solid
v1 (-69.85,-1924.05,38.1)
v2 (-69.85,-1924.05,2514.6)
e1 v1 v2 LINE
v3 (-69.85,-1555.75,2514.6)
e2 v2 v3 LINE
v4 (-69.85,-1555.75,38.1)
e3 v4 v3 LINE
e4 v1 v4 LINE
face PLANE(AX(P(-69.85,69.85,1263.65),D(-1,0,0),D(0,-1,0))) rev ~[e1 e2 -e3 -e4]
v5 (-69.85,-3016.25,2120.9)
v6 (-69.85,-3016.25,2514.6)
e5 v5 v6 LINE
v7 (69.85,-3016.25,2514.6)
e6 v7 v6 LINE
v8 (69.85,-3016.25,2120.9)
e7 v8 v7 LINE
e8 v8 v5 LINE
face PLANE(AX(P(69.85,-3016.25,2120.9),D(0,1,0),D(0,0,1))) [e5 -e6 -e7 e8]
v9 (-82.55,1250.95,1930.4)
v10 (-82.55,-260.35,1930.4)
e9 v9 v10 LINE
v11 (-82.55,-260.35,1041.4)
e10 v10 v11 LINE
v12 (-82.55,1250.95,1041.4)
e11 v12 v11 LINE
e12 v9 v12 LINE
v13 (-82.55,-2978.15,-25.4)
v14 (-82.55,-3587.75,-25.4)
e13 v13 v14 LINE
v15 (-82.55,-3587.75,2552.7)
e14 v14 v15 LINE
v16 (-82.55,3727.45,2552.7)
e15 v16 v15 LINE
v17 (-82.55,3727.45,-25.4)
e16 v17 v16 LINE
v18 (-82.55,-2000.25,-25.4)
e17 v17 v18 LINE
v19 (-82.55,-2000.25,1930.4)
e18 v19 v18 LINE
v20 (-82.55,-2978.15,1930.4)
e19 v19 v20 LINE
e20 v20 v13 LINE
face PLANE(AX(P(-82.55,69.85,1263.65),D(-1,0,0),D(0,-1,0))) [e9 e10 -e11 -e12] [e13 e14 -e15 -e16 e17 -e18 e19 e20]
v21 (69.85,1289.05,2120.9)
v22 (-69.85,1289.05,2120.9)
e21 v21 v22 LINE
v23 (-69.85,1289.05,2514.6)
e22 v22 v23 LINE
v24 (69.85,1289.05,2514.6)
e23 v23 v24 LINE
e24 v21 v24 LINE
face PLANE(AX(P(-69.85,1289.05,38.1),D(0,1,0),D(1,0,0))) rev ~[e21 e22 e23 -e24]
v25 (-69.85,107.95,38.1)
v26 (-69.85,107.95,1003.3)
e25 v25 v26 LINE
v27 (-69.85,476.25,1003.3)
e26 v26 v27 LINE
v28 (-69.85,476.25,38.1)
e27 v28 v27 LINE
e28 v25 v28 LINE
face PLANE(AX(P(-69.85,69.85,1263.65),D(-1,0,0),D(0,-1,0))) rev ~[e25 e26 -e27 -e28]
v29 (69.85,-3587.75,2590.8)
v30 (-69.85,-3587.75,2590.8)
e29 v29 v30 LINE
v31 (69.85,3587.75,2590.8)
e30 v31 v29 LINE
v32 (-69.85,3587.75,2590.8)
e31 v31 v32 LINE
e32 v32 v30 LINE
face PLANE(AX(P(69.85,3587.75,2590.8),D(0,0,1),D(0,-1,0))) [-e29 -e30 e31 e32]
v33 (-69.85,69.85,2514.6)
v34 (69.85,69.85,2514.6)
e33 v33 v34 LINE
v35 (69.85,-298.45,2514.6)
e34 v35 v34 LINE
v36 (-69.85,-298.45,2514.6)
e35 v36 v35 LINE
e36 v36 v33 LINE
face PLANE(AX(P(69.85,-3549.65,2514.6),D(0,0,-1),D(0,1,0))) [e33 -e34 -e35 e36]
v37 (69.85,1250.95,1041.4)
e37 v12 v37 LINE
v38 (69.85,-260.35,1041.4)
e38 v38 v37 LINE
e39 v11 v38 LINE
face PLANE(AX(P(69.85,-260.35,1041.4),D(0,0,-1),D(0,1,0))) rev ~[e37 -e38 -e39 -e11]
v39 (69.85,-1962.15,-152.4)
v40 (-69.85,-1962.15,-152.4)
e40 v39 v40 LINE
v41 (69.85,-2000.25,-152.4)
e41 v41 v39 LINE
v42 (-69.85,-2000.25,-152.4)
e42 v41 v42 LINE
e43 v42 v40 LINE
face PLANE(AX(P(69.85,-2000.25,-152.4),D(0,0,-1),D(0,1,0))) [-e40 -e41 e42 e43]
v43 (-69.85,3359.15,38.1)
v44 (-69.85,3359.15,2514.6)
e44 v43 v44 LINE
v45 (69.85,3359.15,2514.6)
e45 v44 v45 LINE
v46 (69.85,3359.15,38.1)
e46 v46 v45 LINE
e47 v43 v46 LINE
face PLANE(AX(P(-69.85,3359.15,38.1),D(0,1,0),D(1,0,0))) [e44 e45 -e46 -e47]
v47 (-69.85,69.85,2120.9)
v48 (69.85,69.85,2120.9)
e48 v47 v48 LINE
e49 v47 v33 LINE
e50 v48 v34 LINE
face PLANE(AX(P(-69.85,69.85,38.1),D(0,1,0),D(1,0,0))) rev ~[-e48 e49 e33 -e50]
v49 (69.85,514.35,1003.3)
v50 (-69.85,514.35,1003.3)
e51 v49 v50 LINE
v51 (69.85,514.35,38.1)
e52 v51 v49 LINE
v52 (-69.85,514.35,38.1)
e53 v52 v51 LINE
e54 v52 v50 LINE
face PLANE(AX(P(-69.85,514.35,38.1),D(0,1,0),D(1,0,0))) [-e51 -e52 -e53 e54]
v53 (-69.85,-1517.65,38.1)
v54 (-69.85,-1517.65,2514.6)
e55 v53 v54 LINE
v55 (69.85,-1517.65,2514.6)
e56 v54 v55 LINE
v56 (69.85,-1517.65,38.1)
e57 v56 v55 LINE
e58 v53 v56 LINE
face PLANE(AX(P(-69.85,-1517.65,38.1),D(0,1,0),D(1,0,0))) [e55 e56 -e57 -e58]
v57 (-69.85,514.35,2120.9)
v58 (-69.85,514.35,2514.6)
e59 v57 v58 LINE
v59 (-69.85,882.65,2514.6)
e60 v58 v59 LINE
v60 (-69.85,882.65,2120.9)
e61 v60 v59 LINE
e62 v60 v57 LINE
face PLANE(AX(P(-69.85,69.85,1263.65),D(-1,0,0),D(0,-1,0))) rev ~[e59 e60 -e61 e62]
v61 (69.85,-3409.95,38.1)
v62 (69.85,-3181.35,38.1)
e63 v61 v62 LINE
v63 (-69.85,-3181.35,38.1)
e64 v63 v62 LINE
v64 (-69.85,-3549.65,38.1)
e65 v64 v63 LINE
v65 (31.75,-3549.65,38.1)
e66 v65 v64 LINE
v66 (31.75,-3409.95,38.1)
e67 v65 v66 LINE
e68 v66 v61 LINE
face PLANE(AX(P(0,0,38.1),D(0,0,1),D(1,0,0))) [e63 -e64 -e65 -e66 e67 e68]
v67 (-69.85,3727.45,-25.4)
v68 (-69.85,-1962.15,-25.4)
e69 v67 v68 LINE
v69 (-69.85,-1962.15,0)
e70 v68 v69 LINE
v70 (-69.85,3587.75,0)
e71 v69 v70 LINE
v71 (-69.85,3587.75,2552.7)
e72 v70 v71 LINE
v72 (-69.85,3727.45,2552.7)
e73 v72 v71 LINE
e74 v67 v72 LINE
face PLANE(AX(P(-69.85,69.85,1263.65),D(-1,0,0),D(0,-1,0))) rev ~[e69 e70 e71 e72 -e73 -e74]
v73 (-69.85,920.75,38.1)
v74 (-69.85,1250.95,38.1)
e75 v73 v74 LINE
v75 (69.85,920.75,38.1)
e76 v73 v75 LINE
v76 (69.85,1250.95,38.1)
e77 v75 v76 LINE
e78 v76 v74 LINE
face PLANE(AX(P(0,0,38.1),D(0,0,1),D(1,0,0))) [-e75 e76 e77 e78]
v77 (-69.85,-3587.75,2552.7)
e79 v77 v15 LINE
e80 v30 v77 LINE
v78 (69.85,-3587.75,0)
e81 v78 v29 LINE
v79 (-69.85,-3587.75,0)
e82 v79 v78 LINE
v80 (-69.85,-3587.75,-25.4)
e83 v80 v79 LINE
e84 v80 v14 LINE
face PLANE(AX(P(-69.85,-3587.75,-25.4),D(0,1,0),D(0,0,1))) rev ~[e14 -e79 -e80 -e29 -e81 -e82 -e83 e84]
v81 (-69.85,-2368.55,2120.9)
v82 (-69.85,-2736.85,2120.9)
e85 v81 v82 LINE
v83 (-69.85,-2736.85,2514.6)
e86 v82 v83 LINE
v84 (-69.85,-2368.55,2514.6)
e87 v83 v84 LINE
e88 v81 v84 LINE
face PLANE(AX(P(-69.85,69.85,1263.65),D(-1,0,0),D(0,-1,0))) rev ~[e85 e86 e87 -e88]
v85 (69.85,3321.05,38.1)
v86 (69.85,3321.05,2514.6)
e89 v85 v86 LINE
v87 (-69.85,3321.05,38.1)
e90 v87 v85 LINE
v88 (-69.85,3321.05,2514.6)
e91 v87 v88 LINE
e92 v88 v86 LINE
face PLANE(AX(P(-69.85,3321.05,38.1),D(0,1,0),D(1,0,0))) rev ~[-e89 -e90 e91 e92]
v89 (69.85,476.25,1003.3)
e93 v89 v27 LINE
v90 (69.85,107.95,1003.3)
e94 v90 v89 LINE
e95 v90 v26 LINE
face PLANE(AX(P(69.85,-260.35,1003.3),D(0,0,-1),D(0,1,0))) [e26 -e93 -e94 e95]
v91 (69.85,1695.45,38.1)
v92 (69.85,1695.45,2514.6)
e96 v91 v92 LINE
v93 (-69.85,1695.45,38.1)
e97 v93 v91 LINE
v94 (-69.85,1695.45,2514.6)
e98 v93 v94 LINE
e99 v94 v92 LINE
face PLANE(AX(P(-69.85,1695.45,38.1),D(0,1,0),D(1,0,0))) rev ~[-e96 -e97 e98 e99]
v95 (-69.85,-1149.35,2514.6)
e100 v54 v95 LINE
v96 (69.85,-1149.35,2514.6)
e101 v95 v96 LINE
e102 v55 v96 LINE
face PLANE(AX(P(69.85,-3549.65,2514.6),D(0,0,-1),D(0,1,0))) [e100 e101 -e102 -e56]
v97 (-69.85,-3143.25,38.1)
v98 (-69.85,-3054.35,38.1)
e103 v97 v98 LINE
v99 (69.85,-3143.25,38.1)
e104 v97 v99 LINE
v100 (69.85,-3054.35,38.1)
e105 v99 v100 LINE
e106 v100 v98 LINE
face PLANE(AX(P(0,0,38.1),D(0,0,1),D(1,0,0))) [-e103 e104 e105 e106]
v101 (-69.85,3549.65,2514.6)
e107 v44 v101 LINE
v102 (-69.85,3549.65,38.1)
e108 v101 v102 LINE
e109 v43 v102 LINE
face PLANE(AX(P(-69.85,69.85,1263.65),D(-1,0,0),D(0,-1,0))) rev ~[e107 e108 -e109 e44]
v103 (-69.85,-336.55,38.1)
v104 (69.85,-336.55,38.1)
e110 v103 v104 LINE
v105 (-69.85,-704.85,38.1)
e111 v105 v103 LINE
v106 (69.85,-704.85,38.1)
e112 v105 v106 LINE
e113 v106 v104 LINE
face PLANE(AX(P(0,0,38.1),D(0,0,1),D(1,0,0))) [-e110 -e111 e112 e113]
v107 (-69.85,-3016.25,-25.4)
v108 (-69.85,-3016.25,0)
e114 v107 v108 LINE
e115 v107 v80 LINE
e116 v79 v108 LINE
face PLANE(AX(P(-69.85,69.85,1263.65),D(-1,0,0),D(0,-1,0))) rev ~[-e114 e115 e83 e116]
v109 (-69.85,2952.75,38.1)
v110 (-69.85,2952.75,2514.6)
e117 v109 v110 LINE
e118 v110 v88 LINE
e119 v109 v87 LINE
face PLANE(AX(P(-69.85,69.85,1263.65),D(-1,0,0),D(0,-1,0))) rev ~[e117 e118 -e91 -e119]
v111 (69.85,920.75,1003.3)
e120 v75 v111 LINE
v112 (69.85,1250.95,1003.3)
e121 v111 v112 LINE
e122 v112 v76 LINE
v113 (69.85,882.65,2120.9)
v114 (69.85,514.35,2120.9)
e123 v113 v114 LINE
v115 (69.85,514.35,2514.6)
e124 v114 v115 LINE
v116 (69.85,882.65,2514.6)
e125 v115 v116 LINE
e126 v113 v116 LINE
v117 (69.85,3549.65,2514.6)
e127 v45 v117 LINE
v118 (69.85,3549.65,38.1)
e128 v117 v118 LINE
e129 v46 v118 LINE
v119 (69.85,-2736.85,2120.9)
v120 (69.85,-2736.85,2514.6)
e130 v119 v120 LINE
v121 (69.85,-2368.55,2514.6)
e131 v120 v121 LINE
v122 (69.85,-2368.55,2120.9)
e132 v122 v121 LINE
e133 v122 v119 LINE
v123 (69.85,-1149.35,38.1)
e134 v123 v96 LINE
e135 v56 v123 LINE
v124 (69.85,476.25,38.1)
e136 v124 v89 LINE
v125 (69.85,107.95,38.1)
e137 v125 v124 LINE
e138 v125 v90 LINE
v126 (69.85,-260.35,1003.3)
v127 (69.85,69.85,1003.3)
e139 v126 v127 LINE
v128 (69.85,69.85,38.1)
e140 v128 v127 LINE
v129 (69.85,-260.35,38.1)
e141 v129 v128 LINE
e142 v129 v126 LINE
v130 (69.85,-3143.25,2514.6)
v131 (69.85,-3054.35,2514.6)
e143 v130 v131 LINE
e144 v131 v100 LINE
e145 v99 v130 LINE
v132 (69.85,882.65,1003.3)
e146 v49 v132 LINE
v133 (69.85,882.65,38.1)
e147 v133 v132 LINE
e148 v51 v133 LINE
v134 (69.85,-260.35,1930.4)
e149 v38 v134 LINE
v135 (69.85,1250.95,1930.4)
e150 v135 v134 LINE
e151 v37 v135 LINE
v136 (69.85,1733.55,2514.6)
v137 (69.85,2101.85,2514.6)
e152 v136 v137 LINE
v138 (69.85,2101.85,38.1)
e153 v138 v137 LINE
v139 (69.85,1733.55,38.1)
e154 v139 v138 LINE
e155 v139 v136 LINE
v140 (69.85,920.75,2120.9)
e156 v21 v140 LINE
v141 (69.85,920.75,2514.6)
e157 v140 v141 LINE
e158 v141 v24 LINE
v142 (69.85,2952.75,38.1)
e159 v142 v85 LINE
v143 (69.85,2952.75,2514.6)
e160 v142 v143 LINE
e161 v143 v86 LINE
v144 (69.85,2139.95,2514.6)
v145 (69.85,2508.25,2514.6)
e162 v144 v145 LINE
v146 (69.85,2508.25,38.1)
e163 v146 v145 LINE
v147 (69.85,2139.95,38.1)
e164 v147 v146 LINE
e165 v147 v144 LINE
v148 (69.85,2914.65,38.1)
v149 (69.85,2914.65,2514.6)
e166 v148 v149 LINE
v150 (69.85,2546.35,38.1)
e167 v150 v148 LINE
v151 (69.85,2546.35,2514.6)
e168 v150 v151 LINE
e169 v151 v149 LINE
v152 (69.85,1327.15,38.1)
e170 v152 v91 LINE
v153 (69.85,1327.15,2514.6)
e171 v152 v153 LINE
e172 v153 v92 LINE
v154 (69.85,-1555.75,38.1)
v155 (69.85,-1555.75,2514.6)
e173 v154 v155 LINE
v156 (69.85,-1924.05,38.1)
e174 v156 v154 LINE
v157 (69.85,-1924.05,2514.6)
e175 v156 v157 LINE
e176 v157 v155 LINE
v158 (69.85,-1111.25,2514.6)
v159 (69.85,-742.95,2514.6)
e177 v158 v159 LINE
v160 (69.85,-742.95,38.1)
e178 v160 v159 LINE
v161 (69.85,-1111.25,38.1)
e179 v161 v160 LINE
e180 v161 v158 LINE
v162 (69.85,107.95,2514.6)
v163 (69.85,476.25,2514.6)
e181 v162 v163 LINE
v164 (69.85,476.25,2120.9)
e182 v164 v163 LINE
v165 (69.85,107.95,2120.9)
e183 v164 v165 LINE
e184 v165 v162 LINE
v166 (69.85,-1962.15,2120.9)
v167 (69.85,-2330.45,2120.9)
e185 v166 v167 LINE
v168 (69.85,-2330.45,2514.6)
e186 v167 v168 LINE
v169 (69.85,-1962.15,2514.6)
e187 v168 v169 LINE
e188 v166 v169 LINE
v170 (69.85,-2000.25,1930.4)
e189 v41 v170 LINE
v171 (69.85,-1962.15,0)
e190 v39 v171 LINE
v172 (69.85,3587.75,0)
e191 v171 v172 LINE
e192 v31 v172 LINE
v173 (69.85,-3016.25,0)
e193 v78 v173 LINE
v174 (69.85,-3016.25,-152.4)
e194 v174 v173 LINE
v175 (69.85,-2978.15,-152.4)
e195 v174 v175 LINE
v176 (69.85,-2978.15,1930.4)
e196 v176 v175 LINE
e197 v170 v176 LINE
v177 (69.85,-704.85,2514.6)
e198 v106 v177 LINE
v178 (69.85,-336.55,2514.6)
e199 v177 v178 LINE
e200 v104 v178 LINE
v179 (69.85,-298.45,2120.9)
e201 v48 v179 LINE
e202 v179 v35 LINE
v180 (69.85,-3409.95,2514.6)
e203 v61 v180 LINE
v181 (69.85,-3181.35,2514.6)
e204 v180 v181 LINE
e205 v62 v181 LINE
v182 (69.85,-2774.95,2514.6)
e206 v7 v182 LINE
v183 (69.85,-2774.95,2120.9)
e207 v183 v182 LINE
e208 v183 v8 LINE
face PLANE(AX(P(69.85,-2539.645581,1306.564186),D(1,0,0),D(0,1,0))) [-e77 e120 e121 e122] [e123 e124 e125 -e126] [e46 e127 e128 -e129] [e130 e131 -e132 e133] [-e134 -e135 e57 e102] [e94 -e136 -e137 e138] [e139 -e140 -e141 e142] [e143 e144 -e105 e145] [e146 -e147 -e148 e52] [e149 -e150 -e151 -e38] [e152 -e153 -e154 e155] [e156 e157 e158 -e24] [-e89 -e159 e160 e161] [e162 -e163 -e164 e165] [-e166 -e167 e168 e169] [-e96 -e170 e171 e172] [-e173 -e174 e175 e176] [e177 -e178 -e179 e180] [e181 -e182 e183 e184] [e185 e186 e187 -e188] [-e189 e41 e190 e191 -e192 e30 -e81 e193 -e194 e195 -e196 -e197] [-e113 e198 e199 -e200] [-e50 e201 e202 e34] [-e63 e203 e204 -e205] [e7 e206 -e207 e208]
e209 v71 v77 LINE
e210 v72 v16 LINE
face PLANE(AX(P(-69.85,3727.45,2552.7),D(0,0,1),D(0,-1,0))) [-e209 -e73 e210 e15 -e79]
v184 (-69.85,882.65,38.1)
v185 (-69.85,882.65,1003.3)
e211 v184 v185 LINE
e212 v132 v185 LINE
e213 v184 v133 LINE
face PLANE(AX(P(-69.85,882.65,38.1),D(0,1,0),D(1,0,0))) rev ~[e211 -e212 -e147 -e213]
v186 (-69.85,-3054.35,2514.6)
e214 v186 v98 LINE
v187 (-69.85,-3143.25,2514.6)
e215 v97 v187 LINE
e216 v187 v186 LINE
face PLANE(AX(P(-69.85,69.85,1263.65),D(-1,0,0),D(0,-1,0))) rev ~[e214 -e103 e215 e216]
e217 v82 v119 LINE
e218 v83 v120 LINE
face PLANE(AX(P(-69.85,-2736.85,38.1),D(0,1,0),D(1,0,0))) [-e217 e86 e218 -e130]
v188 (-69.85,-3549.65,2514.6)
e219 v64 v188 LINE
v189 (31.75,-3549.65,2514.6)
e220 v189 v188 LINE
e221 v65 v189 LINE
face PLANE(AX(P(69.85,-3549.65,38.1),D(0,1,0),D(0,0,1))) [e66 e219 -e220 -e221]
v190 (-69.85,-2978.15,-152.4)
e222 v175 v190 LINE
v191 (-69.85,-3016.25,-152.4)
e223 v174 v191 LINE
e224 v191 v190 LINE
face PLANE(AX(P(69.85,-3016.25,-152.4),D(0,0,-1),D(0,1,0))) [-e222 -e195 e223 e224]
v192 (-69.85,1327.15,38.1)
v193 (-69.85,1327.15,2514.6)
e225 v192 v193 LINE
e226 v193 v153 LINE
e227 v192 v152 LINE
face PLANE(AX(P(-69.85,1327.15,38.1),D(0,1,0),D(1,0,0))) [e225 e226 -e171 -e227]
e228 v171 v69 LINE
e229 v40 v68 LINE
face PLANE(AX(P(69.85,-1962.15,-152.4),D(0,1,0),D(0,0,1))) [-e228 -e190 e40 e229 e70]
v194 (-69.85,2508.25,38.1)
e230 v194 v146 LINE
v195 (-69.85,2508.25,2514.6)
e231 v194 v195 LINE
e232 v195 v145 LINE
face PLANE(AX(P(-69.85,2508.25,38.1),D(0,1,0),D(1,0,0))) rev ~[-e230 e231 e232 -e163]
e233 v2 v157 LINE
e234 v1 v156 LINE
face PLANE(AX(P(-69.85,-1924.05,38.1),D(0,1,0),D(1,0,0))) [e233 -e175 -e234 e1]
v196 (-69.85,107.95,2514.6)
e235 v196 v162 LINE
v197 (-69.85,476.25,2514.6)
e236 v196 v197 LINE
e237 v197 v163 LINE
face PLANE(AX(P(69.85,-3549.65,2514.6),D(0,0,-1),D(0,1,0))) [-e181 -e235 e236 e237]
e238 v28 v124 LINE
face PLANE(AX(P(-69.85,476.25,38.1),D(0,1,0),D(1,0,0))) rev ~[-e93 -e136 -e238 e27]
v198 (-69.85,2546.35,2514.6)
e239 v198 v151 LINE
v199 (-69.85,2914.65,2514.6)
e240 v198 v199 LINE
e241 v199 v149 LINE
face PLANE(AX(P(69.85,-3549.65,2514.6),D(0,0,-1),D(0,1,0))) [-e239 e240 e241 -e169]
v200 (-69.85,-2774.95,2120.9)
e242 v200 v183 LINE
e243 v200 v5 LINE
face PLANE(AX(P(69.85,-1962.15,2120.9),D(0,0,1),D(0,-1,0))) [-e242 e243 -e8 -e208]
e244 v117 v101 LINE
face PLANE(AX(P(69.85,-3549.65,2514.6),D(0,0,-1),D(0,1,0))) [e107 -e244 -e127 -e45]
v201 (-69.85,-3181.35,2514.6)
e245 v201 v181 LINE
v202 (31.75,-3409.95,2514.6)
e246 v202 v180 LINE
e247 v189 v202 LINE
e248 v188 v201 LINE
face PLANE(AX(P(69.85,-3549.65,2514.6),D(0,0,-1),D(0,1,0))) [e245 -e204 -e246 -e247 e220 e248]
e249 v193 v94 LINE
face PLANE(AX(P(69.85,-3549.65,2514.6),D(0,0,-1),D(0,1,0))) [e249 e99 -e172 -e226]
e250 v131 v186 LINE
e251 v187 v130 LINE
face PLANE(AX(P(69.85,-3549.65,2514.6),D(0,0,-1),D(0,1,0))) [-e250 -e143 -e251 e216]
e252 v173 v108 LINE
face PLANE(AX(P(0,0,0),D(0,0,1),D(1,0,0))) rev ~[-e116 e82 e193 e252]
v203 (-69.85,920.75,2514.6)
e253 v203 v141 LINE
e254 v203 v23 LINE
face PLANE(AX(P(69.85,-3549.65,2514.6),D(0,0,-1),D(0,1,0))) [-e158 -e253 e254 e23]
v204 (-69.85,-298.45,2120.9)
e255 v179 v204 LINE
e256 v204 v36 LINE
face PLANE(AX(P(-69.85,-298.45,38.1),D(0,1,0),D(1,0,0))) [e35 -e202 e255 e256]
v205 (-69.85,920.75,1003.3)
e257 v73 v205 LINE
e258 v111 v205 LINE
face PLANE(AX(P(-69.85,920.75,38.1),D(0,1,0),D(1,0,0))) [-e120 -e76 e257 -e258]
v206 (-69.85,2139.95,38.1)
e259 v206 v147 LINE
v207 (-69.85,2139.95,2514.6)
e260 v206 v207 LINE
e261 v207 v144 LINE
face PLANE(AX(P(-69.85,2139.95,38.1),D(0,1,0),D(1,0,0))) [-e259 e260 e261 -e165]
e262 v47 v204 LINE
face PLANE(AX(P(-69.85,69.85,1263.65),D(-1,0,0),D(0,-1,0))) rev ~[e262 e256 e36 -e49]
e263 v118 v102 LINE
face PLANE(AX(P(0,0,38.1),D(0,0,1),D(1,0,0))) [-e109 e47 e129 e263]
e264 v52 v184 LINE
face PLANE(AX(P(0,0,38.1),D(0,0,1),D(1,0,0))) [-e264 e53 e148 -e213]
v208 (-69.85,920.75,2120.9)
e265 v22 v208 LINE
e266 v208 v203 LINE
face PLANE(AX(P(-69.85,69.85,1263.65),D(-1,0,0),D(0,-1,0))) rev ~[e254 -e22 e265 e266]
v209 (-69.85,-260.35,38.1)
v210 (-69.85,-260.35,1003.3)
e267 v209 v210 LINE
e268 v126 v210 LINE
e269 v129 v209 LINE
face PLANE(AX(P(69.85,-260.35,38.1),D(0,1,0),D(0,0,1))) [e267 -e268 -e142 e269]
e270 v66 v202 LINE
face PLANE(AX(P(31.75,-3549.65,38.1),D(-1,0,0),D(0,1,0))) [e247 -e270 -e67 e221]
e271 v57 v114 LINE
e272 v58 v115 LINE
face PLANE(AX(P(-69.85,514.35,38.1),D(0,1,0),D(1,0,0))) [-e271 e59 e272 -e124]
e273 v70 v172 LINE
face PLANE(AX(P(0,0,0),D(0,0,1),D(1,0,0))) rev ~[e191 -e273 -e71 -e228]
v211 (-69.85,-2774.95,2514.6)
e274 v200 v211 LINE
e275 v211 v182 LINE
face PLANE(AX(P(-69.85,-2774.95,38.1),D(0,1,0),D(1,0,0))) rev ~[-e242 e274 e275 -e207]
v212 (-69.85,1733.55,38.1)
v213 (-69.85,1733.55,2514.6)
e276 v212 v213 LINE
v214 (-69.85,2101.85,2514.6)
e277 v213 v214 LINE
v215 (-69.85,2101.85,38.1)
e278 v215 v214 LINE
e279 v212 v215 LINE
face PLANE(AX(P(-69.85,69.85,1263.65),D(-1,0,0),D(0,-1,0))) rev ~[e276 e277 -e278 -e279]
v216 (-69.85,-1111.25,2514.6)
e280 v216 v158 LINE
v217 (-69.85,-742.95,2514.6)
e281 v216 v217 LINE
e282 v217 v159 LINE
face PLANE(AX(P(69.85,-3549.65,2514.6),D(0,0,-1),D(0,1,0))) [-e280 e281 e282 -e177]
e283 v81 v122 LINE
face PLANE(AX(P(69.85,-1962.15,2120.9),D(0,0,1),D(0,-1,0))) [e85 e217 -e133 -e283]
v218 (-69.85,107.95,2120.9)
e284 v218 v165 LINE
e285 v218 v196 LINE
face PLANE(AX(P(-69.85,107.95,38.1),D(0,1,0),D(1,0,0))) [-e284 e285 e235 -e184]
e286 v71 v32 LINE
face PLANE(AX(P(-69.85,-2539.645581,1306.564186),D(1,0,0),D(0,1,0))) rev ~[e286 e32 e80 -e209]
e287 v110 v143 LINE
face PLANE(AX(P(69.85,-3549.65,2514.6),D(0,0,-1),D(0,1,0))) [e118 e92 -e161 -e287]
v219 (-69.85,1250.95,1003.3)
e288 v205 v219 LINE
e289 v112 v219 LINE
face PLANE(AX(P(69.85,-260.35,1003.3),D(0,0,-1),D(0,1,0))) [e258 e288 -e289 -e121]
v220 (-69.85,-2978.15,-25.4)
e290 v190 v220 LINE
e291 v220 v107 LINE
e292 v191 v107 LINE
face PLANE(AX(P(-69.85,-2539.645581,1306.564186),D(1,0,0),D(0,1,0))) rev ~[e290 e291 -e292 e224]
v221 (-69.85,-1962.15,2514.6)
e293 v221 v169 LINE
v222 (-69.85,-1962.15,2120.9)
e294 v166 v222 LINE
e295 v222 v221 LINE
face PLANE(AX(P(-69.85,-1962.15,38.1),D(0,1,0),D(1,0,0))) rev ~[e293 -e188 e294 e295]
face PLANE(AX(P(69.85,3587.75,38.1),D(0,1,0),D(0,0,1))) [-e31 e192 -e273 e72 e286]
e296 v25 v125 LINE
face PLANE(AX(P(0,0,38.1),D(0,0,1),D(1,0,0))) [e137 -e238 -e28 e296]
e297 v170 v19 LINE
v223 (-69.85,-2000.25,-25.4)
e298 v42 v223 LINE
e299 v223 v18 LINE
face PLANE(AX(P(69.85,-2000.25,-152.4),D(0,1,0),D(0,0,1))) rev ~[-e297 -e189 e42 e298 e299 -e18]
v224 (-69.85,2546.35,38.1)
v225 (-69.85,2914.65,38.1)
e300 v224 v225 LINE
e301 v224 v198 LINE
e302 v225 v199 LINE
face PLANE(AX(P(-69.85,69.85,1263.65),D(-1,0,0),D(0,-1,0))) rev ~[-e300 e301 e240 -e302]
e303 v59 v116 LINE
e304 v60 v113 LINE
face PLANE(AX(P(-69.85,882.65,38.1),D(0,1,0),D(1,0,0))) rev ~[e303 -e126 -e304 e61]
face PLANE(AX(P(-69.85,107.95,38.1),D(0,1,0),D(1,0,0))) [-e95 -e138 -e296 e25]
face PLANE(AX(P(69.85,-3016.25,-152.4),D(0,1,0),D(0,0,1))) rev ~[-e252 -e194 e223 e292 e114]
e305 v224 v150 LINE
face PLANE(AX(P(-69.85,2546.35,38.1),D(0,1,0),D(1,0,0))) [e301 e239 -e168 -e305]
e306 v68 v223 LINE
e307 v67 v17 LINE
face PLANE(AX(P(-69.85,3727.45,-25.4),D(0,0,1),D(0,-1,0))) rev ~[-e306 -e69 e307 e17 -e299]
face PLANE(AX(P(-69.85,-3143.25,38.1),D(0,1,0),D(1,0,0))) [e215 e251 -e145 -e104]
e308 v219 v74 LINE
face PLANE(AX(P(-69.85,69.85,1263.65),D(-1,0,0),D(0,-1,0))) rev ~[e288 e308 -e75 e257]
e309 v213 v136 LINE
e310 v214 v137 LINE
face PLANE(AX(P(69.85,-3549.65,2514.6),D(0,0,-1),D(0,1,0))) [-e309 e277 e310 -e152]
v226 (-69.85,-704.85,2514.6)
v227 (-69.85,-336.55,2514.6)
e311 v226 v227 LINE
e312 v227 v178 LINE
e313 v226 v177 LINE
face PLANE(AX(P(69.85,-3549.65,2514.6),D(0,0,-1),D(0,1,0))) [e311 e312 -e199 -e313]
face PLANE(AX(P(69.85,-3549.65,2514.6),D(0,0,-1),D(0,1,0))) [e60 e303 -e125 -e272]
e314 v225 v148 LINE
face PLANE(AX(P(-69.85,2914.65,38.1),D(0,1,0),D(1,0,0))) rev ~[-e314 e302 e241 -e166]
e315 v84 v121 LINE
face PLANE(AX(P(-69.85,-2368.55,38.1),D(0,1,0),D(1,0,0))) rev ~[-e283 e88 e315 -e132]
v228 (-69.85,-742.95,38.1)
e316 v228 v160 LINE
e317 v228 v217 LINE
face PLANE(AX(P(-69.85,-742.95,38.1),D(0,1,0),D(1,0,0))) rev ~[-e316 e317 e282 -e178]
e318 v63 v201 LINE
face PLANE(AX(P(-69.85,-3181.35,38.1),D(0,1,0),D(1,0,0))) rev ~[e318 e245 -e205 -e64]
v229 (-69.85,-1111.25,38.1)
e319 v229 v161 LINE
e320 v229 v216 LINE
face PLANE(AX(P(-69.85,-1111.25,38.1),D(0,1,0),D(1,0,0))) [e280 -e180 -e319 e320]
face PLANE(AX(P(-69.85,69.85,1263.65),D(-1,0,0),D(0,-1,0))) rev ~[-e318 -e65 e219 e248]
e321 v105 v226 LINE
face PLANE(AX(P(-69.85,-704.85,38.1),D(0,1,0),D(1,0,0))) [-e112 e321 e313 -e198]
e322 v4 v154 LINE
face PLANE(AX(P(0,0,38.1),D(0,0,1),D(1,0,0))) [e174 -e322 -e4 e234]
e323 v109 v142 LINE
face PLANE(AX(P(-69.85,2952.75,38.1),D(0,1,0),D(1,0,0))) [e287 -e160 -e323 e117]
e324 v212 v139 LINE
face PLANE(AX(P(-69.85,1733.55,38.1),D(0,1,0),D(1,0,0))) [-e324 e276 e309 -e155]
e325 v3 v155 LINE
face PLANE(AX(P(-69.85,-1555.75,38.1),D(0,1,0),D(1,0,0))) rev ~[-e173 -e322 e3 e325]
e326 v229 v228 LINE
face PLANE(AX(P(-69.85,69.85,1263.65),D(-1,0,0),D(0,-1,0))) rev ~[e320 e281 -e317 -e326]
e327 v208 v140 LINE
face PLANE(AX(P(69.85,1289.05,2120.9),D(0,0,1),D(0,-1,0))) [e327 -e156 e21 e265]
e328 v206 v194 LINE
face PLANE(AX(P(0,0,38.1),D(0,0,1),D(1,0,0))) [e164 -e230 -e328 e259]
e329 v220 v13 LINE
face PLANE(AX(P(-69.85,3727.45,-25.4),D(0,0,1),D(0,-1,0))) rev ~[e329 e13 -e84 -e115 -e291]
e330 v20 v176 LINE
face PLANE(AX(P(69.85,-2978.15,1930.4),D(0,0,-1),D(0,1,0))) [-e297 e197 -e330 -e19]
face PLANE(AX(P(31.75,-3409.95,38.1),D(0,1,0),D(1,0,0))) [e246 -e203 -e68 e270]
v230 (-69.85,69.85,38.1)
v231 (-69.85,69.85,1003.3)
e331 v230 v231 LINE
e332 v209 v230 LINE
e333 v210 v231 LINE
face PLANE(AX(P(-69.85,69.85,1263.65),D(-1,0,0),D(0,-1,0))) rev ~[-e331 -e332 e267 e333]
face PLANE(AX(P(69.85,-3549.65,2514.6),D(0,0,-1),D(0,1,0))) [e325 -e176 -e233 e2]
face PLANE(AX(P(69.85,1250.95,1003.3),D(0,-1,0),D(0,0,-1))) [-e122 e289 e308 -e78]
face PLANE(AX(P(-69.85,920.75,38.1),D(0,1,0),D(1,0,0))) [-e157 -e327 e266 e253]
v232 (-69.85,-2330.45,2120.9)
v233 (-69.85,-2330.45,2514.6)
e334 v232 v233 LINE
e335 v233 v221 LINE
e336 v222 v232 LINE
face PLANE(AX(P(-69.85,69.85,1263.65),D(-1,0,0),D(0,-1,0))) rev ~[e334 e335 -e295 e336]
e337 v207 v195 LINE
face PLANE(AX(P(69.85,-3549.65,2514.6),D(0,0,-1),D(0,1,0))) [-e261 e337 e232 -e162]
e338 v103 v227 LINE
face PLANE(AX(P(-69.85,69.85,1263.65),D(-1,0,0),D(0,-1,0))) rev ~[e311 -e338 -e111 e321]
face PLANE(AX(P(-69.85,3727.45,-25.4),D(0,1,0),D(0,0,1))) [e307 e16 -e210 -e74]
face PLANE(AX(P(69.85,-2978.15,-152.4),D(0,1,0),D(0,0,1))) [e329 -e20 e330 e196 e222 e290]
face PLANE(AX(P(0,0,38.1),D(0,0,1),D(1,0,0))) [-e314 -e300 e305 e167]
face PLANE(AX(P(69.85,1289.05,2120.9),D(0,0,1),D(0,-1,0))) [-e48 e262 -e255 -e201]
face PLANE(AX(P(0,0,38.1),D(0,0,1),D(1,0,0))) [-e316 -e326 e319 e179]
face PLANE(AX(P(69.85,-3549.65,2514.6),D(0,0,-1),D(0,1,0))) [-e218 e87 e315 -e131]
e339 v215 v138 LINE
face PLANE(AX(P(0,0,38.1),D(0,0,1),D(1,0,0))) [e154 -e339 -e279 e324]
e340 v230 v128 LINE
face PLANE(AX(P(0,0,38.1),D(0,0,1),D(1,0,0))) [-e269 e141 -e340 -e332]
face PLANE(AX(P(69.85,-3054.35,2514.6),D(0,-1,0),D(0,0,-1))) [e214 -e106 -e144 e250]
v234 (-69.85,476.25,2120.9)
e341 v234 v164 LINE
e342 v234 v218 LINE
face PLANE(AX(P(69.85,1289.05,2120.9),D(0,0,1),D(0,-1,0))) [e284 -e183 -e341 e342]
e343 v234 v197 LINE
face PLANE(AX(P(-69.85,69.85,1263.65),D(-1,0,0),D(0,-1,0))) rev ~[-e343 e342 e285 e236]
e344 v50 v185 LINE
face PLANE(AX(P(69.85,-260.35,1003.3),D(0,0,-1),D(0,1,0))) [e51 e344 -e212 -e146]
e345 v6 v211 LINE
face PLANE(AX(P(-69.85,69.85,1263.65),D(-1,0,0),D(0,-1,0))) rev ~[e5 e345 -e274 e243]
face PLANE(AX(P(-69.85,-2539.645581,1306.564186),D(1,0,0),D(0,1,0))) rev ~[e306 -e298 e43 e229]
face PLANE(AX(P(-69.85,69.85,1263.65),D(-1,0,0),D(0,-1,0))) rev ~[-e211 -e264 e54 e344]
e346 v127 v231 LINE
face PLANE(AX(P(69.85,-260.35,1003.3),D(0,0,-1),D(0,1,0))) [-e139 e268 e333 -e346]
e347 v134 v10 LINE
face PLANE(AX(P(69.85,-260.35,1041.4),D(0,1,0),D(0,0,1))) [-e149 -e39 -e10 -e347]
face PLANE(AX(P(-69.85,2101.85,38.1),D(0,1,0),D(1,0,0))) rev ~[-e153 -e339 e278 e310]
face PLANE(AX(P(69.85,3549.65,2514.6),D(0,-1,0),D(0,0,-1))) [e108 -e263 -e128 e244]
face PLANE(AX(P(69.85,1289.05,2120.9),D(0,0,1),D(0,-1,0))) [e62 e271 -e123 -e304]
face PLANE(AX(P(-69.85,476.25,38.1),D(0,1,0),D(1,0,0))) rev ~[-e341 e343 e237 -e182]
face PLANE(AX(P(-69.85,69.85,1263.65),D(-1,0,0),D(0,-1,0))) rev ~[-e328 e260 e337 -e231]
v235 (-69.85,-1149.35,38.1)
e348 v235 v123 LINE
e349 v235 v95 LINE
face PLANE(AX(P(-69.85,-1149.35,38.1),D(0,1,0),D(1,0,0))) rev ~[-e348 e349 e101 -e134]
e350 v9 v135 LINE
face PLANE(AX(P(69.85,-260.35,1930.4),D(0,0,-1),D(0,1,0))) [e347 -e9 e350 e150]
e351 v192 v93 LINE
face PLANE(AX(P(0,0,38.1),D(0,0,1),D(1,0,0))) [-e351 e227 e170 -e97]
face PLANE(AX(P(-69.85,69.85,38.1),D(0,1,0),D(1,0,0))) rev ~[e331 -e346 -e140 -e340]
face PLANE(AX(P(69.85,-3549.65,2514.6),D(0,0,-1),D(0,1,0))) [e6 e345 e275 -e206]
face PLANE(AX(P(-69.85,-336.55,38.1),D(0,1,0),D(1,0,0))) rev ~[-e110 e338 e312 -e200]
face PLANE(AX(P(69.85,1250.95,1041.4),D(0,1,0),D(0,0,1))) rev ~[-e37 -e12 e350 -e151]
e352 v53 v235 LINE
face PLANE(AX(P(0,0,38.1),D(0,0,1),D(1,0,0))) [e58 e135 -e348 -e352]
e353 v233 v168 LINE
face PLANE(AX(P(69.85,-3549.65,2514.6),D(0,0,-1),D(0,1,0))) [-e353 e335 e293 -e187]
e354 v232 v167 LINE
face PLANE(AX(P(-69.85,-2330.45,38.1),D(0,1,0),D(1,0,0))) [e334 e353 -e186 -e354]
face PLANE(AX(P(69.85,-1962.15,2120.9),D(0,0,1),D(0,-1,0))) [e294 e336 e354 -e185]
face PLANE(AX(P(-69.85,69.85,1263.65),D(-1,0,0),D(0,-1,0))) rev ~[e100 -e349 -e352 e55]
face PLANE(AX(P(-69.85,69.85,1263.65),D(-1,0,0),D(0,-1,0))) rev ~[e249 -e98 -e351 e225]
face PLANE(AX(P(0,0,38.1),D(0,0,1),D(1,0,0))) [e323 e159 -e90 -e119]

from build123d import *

# Parameters (mm, degrees)
F0_W      = 139.7
F0_H      = 7175.5
F1_DEPTH  = 38.1
F3_DEPTH  = 139.7
F4_W      = 139.7
F4_H      = 38.1
F4_W_2    = 38.1
F4_H_2    = 139.7
F5_DEPTH  = 2476.5
F6_W      = 1511.3
F6_H      = 889
F6_W_2    = 38.1
F6_H_2    = 152.4
F7_DEPTH  = 139.7
F8_W      = 7315.2
F8_H      = 2578.1
F9_DEPTH  = 12.7
F10_W     = 1511.3
F10_H     = 889
F10_W_2   = 977.9
F10_H_2   = 2082.8
F11_DEPTH = 152.401


with BuildPart() as f1:
    # F0 (on Top) → F1 (new body)
    with BuildSketch(Plane.XY):
        Rectangle(F0_W, F0_H)
    extrude(amount=F1_DEPTH)

    # F2 (on face) → F3 (join, through all)
    with BuildSketch(Plane.YZ.offset(69.85)):
        Polygon((3587.75, 2590.8), (-3587.75, 2590.8), (-3587.75, 38.1), (-3549.65, 38.1), (-3549.65, 2514.6), (3549.65, 2514.6), (3549.65, 38.1), (3587.75, 38.1), align=None)
    extrude(amount=-F3_DEPTH)

    # F4 (on face) → F5 (join, through all)
    with BuildSketch(Plane.XY.offset(38.1)):
        with Locations((0, -3162.3)):
            Rectangle(F4_W, F4_H)
        with Locations((0, -2755.9)):
            Rectangle(F4_W, F4_H)
        with Locations((0, -2349.5)):
            Rectangle(F4_W, F4_H)
        with Locations((0, -1943.1)):
            Rectangle(F4_W, F4_H)
        with Locations((0, -1536.7)):
            Rectangle(F4_W, F4_H)
        with Locations((0, -1130.3)):
            Rectangle(F4_W, F4_H)
        with Locations((0, -723.9)):
            Rectangle(F4_W, F4_H)
        with Locations((0, -317.5)):
            Rectangle(F4_W, F4_H)
        with Locations((0, 88.9)):
            Rectangle(F4_W, F4_H)
        with Locations((0, 495.3)):
            Rectangle(F4_W, F4_H)
        with Locations((0, 901.7)):
            Rectangle(F4_W, F4_H)
        with Locations((0, 1308.1)):
            Rectangle(F4_W, F4_H)
        with Locations((0, 1714.5)):
            Rectangle(F4_W, F4_H)
        with Locations((0, 2120.9)):
            Rectangle(F4_W, F4_H)
        with Locations((0, 2527.3)):
            Rectangle(F4_W, F4_H)
        with Locations((0, 2933.7)):
            Rectangle(F4_W, F4_H)
        with Locations((0, 3340.1)):
            Rectangle(F4_W, F4_H)
        with Locations((50.8, -3479.8)):
            Rectangle(F4_W_2, F4_H_2)
    extrude(amount=F5_DEPTH)

    # F6 (on face) → F7 (join)
    with BuildSketch(Plane.YZ.offset(69.85)):
        Polygon((-3054.35, 2514.6), (-3054.35, 38.1), (-2978.15, 38.1), (-2978.15, 1930.4), (-2000.25, 1930.4), (-2000.25, 38.1), (-1962.15, 38.1), (-1962.15, 2120.9), (-3016.25, 2120.9), (-3016.25, 2514.6), align=None)
        Polygon((-260.35, 38.1), (-260.35, 1003.3), (1250.95, 1003.3), (1250.95, 38.1), (1289.05, 38.1), (1289.05, 2120.9), (-298.45, 2120.9), (-298.45, 38.1), align=None)
        with Locations((495.3, 1485.9)):
            Rectangle(F6_W, F6_H, mode=Mode.SUBTRACT)
        with Locations((-2997.2, -76.2)):
            Rectangle(F6_W_2, F6_H_2)
        with Locations((-1981.2, -76.2)):
            Rectangle(F6_W_2, F6_H_2)
    extrude(amount=-F7_DEPTH)

    # F8 (on face) → F9 (join)
    with BuildSketch(Plane(origin=(-69.85, 0, 0), x_dir=(0, -1, 0), z_dir=(-1, 0, 0))):
        with Locations((-69.85, 1263.65)):
            Rectangle(F8_W, F8_H)
    extrude(amount=F9_DEPTH)

    # F10 (on face) → F11 (cut, through all)
    with BuildSketch(Plane.YZ.offset(69.85)):
        with Locations((495.3, 1485.9)):
            Rectangle(F10_W, F10_H)
        with Locations((-2489.2, 889)):
            Rectangle(F10_W_2, F10_H_2)
    extrude(amount=-F11_DEPTH, mode=Mode.SUBTRACT)


solid = f1.part
